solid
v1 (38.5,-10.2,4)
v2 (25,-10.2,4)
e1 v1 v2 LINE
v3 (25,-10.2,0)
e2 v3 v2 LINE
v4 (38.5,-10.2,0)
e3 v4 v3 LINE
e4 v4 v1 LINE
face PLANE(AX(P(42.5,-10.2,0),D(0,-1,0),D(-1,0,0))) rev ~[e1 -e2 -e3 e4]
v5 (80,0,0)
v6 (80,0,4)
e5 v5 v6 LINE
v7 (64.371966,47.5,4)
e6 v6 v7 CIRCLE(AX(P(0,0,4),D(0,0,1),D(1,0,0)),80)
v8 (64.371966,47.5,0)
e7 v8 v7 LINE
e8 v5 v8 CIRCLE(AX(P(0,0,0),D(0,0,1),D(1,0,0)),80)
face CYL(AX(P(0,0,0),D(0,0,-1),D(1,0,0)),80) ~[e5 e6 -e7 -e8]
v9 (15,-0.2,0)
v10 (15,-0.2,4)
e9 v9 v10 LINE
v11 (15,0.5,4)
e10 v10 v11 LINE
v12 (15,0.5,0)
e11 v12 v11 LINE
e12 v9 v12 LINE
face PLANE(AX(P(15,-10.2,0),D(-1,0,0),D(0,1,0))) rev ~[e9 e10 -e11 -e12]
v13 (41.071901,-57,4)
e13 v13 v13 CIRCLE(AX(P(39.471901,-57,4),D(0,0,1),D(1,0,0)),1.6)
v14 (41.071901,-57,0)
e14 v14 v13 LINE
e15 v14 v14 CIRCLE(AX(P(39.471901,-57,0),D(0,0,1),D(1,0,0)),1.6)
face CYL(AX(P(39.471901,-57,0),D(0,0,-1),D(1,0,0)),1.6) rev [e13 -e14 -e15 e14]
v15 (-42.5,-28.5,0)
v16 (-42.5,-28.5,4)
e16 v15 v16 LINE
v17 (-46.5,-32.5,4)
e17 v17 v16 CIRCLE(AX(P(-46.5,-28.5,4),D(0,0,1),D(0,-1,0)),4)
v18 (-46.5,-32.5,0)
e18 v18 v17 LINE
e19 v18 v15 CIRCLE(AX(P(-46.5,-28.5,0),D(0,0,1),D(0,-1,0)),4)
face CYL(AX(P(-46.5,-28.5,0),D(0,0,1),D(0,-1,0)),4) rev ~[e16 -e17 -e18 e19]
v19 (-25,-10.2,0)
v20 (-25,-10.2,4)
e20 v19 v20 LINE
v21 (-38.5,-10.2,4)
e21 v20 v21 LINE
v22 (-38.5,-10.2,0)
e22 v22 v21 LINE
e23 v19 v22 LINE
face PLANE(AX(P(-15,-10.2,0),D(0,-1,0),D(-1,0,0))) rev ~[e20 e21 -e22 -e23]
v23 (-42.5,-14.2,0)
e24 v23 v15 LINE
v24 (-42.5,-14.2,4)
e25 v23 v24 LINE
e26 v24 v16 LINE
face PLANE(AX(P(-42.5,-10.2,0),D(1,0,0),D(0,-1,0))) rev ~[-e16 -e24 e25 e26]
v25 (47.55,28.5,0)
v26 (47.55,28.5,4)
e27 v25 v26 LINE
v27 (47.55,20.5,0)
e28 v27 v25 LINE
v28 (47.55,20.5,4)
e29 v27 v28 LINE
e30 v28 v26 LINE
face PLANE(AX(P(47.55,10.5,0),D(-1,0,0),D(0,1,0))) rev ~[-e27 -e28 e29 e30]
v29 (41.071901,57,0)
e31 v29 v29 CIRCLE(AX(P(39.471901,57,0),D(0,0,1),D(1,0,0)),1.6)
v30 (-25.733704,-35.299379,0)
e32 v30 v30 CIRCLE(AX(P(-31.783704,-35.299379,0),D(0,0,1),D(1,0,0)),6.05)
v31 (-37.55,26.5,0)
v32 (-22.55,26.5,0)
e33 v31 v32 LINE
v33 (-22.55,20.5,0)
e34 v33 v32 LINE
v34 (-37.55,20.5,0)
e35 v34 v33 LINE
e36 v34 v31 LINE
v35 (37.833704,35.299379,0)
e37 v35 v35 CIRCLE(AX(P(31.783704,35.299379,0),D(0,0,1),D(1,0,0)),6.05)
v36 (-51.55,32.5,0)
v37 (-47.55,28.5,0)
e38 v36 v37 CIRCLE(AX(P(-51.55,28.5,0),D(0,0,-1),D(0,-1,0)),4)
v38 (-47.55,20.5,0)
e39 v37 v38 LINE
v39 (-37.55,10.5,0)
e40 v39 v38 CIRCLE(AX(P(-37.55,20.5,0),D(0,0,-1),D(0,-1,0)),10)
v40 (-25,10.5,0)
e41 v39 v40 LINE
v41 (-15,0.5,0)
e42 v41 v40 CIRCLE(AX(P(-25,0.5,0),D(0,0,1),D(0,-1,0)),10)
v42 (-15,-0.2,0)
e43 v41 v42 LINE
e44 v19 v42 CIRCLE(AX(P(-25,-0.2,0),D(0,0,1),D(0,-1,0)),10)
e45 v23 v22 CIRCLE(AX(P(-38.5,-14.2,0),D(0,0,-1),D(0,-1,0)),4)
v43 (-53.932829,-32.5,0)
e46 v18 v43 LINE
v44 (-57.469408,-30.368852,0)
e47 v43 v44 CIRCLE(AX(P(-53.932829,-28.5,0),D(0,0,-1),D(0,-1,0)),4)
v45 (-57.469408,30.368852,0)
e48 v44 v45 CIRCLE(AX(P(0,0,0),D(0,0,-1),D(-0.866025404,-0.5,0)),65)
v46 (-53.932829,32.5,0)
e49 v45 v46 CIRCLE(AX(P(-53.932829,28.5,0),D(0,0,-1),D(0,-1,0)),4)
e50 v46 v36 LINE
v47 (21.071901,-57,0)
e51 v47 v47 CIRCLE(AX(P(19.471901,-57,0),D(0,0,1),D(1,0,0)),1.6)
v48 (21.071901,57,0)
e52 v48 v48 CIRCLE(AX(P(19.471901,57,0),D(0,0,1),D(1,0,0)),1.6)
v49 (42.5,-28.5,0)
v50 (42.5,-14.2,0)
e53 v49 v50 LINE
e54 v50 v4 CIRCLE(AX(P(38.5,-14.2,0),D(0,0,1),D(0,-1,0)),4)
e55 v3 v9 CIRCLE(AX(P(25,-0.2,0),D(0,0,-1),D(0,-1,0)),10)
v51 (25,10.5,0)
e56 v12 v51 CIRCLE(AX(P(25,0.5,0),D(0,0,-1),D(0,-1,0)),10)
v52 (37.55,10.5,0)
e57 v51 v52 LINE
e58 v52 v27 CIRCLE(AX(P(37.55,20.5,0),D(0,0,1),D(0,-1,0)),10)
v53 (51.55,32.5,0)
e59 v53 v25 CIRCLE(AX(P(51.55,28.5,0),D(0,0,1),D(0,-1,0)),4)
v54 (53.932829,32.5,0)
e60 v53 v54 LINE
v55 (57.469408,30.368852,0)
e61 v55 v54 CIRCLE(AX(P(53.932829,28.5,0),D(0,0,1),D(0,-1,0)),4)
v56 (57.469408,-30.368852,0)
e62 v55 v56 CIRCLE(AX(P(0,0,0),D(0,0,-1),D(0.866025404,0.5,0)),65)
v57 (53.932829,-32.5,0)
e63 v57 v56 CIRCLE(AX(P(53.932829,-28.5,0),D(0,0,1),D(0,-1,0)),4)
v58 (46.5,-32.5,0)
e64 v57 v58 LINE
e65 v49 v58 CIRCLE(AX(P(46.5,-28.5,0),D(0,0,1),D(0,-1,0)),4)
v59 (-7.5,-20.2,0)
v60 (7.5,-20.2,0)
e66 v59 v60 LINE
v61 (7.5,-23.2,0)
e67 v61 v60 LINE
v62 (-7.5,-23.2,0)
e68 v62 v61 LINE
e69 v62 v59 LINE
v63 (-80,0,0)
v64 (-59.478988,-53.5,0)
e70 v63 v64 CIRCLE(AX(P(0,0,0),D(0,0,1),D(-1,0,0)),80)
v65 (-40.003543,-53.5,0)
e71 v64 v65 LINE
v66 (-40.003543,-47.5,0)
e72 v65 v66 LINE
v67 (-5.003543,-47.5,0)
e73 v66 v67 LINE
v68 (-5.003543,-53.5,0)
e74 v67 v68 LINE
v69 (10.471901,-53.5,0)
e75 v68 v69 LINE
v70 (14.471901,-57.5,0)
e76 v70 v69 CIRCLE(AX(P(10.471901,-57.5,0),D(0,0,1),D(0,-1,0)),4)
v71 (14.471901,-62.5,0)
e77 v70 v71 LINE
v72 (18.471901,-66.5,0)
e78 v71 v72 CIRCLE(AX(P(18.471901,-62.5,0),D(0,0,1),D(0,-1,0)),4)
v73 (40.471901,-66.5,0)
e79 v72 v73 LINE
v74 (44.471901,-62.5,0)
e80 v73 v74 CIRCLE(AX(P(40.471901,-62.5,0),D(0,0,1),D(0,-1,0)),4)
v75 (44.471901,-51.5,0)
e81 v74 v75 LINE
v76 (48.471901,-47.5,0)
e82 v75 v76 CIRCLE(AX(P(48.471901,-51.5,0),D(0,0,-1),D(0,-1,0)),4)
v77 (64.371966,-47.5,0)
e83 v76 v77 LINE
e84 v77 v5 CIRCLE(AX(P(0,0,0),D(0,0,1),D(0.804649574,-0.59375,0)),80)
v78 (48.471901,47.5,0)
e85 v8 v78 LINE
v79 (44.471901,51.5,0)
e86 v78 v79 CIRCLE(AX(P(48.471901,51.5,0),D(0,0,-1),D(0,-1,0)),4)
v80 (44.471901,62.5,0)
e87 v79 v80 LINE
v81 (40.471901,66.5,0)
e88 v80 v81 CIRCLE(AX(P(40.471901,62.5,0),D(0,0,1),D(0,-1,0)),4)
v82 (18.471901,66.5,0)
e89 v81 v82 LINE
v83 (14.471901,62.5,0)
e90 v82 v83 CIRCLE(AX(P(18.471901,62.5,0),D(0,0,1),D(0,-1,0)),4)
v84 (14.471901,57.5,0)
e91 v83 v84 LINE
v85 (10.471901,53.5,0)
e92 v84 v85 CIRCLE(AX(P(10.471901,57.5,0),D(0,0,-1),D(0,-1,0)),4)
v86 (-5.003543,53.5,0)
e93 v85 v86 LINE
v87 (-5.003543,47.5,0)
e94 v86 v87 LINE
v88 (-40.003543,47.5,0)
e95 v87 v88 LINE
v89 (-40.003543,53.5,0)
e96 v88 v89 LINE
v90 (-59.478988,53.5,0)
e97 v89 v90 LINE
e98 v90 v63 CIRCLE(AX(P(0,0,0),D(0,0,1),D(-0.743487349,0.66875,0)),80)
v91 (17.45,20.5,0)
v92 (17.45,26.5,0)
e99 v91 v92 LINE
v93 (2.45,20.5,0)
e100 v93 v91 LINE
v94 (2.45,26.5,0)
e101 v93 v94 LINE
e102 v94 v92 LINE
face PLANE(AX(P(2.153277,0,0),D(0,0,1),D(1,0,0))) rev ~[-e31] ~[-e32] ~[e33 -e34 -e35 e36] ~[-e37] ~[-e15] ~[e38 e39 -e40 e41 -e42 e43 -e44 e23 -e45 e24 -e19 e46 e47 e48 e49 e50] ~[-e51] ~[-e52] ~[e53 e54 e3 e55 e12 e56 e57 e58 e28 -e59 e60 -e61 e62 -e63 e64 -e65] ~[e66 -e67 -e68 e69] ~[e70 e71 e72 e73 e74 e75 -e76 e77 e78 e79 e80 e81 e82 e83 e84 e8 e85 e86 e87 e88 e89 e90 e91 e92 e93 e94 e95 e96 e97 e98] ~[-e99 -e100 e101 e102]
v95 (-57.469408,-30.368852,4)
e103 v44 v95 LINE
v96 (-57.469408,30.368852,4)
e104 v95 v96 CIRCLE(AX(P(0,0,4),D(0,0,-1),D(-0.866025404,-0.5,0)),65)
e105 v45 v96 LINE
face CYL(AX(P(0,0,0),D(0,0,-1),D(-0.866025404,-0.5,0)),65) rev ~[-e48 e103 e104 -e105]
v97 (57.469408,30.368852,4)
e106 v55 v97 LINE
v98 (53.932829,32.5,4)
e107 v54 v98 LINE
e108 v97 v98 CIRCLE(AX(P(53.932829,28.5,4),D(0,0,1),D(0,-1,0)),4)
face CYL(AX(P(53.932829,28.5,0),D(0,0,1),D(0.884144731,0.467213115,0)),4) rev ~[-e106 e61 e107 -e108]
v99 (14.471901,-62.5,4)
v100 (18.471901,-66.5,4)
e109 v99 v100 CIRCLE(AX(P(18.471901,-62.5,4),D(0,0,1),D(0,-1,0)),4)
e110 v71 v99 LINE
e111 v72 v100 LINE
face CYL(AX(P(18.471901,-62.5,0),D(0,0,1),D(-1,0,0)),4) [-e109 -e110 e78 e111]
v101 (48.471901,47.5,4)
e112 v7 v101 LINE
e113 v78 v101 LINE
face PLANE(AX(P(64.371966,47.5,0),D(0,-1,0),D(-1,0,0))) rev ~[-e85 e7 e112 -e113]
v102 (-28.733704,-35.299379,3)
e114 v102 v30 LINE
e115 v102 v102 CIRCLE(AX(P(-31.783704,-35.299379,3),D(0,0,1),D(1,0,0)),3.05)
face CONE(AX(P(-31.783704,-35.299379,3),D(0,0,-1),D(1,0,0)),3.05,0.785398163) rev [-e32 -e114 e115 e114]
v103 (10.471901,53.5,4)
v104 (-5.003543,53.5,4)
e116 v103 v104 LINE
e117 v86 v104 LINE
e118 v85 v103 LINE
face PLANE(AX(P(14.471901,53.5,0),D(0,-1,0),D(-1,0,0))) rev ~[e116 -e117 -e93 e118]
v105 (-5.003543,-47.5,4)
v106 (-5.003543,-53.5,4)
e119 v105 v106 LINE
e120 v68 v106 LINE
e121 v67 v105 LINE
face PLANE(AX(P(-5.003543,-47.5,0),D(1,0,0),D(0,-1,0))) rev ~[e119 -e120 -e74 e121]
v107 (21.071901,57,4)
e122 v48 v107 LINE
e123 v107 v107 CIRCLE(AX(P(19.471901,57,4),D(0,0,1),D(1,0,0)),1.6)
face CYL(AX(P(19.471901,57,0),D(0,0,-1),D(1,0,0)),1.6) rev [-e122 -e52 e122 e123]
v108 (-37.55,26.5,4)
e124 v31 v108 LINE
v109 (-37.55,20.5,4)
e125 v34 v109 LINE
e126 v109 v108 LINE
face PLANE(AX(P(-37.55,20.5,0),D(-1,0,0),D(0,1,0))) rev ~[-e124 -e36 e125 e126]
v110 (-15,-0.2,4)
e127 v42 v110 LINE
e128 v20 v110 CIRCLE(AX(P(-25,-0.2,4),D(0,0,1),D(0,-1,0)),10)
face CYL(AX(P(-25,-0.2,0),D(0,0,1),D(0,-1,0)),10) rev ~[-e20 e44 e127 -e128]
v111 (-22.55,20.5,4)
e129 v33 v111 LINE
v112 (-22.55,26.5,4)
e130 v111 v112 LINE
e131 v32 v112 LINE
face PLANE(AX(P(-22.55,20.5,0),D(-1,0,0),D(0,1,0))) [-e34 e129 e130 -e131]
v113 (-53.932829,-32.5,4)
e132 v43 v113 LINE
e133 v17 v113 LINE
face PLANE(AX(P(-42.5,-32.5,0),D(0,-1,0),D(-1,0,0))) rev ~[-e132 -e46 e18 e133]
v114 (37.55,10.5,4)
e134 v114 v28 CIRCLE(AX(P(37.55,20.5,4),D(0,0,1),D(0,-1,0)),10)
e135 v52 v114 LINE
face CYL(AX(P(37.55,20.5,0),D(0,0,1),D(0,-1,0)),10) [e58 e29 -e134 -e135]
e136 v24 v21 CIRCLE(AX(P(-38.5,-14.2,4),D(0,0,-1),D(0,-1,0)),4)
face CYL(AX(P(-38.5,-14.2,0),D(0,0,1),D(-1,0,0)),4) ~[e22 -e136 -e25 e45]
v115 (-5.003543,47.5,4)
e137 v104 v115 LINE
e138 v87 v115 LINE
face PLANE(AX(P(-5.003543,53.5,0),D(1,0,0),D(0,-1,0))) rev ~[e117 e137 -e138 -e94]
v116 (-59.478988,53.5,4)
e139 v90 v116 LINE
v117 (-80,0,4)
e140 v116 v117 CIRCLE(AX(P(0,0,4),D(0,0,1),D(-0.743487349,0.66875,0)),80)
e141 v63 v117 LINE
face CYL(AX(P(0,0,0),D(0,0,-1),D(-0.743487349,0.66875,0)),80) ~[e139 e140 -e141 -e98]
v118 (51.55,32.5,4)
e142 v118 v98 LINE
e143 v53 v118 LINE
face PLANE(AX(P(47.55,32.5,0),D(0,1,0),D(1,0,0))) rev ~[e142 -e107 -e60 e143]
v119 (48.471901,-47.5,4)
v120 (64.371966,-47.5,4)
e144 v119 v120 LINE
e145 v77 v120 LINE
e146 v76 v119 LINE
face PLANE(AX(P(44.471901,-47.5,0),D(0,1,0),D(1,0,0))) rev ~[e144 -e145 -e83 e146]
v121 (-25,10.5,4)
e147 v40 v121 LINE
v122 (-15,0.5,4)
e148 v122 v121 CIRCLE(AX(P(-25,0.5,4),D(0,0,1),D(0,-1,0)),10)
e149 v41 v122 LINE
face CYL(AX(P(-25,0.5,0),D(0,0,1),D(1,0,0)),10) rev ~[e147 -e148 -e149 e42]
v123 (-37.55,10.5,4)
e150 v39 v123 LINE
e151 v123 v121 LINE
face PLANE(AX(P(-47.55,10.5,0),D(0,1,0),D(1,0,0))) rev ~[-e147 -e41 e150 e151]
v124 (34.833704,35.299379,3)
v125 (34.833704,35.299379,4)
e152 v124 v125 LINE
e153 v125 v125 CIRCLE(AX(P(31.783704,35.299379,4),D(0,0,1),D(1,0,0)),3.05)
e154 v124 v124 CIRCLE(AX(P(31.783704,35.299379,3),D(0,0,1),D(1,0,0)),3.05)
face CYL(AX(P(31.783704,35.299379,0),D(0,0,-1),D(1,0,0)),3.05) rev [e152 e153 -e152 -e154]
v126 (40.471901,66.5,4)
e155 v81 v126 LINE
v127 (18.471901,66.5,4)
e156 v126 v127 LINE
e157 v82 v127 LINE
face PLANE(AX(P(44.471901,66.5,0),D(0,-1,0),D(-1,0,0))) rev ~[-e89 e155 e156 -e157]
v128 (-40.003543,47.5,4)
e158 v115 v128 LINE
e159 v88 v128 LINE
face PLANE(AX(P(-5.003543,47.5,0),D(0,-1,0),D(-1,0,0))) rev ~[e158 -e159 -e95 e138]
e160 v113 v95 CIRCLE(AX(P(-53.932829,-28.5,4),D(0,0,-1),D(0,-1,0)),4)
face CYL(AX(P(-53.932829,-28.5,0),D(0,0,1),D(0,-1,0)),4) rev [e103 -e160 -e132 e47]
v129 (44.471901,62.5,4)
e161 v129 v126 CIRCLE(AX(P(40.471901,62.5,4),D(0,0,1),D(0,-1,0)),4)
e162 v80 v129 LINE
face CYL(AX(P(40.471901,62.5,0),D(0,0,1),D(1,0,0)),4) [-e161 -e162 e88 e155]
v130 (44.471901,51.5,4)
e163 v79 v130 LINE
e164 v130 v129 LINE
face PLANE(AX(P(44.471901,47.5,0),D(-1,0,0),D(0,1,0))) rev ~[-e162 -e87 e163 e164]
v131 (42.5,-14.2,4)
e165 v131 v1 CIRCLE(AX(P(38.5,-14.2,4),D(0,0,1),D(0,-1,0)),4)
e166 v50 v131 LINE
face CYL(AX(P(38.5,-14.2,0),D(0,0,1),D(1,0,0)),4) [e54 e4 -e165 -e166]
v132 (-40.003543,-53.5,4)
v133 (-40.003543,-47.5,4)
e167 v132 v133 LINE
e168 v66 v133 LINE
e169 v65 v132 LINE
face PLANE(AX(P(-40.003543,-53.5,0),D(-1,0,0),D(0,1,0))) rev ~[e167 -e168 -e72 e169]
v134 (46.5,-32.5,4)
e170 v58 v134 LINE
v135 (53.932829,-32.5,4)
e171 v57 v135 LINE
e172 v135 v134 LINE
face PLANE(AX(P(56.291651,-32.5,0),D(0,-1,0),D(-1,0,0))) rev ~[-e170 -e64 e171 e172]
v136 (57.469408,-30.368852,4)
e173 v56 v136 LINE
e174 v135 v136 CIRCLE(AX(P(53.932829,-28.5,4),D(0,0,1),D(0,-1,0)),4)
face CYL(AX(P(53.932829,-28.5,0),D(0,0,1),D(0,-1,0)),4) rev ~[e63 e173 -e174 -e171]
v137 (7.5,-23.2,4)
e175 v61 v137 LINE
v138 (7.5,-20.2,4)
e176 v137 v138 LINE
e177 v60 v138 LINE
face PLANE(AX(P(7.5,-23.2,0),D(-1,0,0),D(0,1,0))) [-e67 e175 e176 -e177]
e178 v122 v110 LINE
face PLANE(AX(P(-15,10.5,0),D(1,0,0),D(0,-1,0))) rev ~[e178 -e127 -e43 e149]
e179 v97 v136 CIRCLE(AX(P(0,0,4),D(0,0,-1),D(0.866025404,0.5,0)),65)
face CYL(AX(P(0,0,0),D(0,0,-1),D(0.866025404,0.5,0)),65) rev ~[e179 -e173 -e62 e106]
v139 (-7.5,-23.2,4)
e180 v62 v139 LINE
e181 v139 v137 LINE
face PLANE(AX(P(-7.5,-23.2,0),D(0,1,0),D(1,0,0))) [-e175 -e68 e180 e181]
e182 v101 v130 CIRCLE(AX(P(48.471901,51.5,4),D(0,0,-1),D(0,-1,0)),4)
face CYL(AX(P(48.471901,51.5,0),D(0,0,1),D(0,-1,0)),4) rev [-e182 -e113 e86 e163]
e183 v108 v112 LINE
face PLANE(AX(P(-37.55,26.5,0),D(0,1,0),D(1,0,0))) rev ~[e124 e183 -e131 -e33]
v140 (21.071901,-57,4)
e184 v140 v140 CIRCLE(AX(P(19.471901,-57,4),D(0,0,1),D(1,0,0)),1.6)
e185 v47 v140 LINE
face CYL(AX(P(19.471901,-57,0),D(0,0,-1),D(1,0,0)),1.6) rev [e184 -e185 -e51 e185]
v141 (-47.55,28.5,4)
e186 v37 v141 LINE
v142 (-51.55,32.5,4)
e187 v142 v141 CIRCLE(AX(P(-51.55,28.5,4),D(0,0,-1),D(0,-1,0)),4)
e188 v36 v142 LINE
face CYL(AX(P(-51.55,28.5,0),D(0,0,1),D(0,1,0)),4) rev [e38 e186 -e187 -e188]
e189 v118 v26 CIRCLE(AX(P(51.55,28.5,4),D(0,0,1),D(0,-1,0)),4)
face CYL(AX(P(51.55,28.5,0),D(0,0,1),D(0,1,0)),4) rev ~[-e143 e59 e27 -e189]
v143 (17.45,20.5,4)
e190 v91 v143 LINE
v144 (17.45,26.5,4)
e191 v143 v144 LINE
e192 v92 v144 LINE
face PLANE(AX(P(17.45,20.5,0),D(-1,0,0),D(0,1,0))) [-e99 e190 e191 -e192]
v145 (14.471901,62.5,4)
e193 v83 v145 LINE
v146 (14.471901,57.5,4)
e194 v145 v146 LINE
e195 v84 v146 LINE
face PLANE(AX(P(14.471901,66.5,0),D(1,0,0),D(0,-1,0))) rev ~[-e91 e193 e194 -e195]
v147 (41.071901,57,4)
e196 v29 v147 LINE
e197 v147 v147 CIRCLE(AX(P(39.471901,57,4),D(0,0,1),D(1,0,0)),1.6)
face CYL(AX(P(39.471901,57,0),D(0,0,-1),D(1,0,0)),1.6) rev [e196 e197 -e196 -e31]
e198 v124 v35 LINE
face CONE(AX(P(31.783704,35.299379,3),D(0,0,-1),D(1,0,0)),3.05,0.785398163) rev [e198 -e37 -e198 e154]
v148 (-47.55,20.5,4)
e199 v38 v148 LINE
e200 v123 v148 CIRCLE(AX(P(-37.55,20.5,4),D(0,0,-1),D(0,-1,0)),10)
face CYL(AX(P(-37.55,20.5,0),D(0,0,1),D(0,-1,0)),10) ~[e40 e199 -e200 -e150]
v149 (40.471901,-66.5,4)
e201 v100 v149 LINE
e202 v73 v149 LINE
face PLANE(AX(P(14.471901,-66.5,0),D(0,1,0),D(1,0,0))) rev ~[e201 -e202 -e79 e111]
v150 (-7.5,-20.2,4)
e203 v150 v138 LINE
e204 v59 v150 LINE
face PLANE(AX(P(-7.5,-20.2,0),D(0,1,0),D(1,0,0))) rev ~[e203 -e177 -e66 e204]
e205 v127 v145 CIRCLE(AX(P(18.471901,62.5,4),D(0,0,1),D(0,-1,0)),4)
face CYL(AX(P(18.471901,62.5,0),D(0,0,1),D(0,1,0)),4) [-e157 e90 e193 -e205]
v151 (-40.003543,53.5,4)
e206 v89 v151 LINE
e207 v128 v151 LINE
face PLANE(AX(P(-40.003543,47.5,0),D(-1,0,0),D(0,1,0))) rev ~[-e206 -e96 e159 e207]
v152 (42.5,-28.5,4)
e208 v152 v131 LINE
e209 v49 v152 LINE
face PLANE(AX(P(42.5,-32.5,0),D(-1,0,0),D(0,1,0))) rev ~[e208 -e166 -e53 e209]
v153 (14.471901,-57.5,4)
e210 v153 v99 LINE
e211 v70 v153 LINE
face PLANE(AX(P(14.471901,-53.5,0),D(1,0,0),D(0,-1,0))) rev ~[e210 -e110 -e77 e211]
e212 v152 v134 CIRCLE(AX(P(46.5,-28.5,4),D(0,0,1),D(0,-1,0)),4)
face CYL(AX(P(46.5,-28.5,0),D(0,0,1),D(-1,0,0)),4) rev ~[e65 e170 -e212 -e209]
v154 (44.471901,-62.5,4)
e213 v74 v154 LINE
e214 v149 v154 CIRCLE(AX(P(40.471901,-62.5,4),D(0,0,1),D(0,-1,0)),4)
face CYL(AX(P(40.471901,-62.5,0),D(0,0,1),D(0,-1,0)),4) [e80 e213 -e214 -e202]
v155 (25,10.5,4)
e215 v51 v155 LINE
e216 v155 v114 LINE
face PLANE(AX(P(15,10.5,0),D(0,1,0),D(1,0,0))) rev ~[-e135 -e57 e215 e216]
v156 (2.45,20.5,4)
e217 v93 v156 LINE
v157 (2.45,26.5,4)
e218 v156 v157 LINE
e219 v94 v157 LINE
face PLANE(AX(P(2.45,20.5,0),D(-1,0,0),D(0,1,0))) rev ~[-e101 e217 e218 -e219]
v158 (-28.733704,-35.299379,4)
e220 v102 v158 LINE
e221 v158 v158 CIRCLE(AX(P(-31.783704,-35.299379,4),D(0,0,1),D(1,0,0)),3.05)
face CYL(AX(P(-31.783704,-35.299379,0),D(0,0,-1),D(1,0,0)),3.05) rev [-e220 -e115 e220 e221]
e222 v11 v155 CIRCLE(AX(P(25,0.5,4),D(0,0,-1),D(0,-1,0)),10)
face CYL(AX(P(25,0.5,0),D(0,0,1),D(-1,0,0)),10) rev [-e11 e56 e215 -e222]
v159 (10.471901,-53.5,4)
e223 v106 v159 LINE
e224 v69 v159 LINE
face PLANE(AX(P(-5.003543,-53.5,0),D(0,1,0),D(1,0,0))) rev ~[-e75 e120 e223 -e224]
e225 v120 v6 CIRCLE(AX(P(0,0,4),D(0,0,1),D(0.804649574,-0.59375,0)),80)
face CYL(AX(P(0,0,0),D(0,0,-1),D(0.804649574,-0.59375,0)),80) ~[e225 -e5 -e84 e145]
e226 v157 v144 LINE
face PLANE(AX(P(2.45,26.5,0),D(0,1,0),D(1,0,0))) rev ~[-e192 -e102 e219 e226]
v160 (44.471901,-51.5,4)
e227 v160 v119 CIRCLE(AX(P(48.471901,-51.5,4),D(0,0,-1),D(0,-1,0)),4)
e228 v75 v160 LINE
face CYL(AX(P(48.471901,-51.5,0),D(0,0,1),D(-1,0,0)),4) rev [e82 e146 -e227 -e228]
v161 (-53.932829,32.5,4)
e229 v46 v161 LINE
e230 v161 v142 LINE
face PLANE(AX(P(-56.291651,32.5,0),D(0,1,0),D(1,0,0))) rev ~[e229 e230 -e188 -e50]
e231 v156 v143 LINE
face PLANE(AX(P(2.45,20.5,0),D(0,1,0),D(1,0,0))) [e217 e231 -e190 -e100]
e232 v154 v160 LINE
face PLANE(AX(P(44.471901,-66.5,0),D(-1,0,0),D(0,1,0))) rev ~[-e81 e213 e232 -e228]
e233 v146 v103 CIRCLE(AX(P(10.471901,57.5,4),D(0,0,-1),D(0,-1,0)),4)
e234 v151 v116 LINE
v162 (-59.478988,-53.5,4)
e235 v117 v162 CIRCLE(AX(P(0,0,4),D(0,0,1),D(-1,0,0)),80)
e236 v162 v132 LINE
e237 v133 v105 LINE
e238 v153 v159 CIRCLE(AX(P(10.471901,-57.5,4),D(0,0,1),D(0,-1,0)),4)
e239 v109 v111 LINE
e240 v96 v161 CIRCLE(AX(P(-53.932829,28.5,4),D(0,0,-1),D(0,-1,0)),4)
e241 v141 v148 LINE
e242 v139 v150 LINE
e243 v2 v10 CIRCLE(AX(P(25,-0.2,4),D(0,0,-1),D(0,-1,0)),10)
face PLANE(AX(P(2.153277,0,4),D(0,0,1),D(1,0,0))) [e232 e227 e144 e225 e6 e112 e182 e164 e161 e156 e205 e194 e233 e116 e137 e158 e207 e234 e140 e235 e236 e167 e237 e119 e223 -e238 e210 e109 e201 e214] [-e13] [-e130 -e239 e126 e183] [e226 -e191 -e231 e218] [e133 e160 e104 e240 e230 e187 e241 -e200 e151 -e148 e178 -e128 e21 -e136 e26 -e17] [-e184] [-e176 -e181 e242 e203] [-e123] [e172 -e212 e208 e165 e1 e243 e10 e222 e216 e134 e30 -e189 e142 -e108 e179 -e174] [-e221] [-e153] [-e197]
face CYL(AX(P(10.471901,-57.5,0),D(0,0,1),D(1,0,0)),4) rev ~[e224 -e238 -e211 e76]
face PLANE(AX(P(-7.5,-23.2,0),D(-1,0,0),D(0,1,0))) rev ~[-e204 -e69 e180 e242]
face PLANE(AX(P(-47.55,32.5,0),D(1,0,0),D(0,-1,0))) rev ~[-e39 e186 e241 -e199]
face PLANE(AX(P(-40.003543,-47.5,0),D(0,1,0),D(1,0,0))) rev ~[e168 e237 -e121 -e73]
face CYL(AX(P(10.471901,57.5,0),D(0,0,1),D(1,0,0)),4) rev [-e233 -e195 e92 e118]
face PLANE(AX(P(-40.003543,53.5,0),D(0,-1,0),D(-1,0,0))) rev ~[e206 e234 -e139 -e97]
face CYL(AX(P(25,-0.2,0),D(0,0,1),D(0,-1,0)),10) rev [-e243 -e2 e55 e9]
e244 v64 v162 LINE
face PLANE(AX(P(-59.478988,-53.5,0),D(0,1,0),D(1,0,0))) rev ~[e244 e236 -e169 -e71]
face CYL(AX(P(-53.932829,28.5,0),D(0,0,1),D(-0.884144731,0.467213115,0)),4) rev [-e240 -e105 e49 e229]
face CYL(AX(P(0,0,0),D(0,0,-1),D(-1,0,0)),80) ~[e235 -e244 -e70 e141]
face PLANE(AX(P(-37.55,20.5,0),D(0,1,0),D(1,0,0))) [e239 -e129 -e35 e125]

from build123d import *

# Parameters (mm, degrees)
ESBO_O1_R                = 3.05
ESBO_O1_W                = 15
ESBO_O1_H                = 3
ESBO_O1_R_2              = 1.6
ESBO_O1_H_2              = 6
RESSALTO_EXTRUS_O1_DEPTH = 4
CHANFRO1_SIZE            = 3
FILETE1_R                = 4
FILETE2_R                = 10


with BuildPart() as part:
    # Esboço1 → Ressalto-extrusão1 (new body)
    with BuildSketch(Plane.XY):
        with BuildLine():
            Line((14.471901241, -53.5), (14.471901241, -66.5))
            Line((14.471901241, -66.5), (44.471901241, -66.5))
            Line((44.471901241, -66.5), (44.471901241, -47.5))
            Line((44.471901241, -47.5), (64.371965948, -47.5))
            ThreePointArc((64.371965948, -47.5), (75.99262226, -25.002427124), (80, 0))
            ThreePointArc((80, 0), (75.99262226, 25.002427124), (64.371965948, 47.5))
            Line((64.371965948, 47.5), (44.471901241, 47.5))
            Line((44.471901241, 47.5), (44.471901241, 66.5))
            Line((44.471901241, 66.5), (14.471901241, 66.5))
            Line((14.471901241, 66.5), (14.471901241, 53.5))
            Line((14.471901241, 53.5), (-5.003543323, 53.5))
            Line((-5.003543323, 53.5), (-5.003543323, 47.5))
            Line((-5.003543323, 47.5), (-40.003543323, 47.5))
            Line((-40.003543323, 47.5), (-40.003543323, 53.5))
            Line((-40.003543323, 53.5), (-59.478987886, 53.5))
            ThreePointArc((-59.478987886, 53.5), (-74.693771597, 28.650313865), (-80, 0))
            ThreePointArc((-80, 0), (-74.693771597, -28.650313865), (-59.478987886, -53.5))
            Line((-59.478987886, -53.5), (-40.003543323, -53.5))
            Line((-40.003543323, -53.5), (-40.003543323, -47.5))
            Line((-40.003543323, -47.5), (-5.003543323, -47.5))
            Line((-5.003543323, -47.5), (-5.003543323, -53.5))
            Line((-5.003543323, -53.5), (14.471901241, -53.5))
        make_face()
        with BuildLine():
            ThreePointArc((-56.291651246, -32.5), (-65, 0), (-56.291651246, 32.5))
            Line((-56.291651246, 32.5), (-47.55, 32.5))
            Line((-47.55, 32.5), (-47.55, 10.5))
            Line((-47.55, 10.5), (-15, 10.5))
            Line((-15, 10.5), (-15, -10.2))
            Line((-15, -10.2), (-42.5, -10.2))
            Line((-42.5, -10.2), (-42.5, -32.5))
            Line((-42.5, -32.5), (-56.291651246, -32.5))
        make_face(mode=Mode.SUBTRACT)
        with Locations((-31.783703802, -35.29937921)):
            Circle(ESBO_O1_R, mode=Mode.SUBTRACT)
        with Locations((0, -21.7)):
            Rectangle(ESBO_O1_W, ESBO_O1_H, mode=Mode.SUBTRACT)
        with Locations((19.471901241, -57)):
            Circle(ESBO_O1_R_2, mode=Mode.SUBTRACT)
        with Locations((39.471901241, -57)):
            Circle(ESBO_O1_R_2, mode=Mode.SUBTRACT)
        with BuildLine():
            Line((42.5, -10.2), (15, -10.2))
            Line((15, -10.2), (15, 10.5))
            Line((15, 10.5), (47.55, 10.5))
            Line((47.55, 10.5), (47.55, 32.5))
            Line((47.55, 32.5), (56.291651246, 32.5))
            ThreePointArc((56.291651246, 32.5), (65, 0), (56.291651246, -32.5))
            Line((56.291651246, -32.5), (42.5, -32.5))
            Line((42.5, -32.5), (42.5, -10.2))
        make_face(mode=Mode.SUBTRACT)
        with Locations((-30.05, 23.5)):
            Rectangle(ESBO_O1_W, ESBO_O1_H_2, mode=Mode.SUBTRACT)
        with Locations((9.95, 23.5)):
            Rectangle(ESBO_O1_W, ESBO_O1_H_2, mode=Mode.SUBTRACT)
        with Locations((31.783703802, 35.29937921)):
            Circle(ESBO_O1_R, mode=Mode.SUBTRACT)
        with Locations((19.471901241, 57)):
            Circle(ESBO_O1_R_2, mode=Mode.SUBTRACT)
        with Locations((39.471901241, 57)):
            Circle(ESBO_O1_R_2, mode=Mode.SUBTRACT)
    extrude(amount=RESSALTO_EXTRUS_O1_DEPTH)

    # Chanfro1
    chanfro1_edges = [part.edges().sort_by_distance(p)[0] for p in [
        (-34.833703802, -35.29937921, 0),
        (28.733703802, 35.29937921, 0),
    ]]
    chamfer(chanfro1_edges, length=CHANFRO1_SIZE)

    # Filete1
    filete1_edges = [part.edges().sort_by_distance(p)[0] for p in [
        (56.291651246, 32.5, 2),
        (47.55, 32.5, 2),
        (42.5, -10.2, 2),
        (42.5, -32.5, 2),
        (56.291651246, -32.5, 2),
        (14.471901241, 53.5, 2),
        (14.471901241, 66.5, 2),
        (44.471901241, 66.5, 2),
        (44.471901241, 47.5, 2),
        (44.471901241, -47.5, 2),
        (44.471901241, -66.5, 2),
        (14.471901241, -66.5, 2),
        (14.471901241, -53.5, 2),
        (-42.5, -32.5, 2),
        (-42.5, -10.2, 2),
        (-47.55, 32.5, 2),
        (-56.291651246, 32.5, 2),
        (-56.291651246, -32.5, 2),
    ]]
    fillet(filete1_edges, radius=FILETE1_R)

    # Filete2
    filete2_edges = [part.edges().sort_by_distance(p)[0] for p in [
        (47.55, 10.5, 2),
        (15, 10.5, 2),
        (15, -10.2, 2),
        (-15, -10.2, 2),
        (-15, 10.5, 2),
        (-47.55, 10.5, 2),
    ]]
    fillet(filete2_edges, radius=FILETE2_R)


solid = part.part
